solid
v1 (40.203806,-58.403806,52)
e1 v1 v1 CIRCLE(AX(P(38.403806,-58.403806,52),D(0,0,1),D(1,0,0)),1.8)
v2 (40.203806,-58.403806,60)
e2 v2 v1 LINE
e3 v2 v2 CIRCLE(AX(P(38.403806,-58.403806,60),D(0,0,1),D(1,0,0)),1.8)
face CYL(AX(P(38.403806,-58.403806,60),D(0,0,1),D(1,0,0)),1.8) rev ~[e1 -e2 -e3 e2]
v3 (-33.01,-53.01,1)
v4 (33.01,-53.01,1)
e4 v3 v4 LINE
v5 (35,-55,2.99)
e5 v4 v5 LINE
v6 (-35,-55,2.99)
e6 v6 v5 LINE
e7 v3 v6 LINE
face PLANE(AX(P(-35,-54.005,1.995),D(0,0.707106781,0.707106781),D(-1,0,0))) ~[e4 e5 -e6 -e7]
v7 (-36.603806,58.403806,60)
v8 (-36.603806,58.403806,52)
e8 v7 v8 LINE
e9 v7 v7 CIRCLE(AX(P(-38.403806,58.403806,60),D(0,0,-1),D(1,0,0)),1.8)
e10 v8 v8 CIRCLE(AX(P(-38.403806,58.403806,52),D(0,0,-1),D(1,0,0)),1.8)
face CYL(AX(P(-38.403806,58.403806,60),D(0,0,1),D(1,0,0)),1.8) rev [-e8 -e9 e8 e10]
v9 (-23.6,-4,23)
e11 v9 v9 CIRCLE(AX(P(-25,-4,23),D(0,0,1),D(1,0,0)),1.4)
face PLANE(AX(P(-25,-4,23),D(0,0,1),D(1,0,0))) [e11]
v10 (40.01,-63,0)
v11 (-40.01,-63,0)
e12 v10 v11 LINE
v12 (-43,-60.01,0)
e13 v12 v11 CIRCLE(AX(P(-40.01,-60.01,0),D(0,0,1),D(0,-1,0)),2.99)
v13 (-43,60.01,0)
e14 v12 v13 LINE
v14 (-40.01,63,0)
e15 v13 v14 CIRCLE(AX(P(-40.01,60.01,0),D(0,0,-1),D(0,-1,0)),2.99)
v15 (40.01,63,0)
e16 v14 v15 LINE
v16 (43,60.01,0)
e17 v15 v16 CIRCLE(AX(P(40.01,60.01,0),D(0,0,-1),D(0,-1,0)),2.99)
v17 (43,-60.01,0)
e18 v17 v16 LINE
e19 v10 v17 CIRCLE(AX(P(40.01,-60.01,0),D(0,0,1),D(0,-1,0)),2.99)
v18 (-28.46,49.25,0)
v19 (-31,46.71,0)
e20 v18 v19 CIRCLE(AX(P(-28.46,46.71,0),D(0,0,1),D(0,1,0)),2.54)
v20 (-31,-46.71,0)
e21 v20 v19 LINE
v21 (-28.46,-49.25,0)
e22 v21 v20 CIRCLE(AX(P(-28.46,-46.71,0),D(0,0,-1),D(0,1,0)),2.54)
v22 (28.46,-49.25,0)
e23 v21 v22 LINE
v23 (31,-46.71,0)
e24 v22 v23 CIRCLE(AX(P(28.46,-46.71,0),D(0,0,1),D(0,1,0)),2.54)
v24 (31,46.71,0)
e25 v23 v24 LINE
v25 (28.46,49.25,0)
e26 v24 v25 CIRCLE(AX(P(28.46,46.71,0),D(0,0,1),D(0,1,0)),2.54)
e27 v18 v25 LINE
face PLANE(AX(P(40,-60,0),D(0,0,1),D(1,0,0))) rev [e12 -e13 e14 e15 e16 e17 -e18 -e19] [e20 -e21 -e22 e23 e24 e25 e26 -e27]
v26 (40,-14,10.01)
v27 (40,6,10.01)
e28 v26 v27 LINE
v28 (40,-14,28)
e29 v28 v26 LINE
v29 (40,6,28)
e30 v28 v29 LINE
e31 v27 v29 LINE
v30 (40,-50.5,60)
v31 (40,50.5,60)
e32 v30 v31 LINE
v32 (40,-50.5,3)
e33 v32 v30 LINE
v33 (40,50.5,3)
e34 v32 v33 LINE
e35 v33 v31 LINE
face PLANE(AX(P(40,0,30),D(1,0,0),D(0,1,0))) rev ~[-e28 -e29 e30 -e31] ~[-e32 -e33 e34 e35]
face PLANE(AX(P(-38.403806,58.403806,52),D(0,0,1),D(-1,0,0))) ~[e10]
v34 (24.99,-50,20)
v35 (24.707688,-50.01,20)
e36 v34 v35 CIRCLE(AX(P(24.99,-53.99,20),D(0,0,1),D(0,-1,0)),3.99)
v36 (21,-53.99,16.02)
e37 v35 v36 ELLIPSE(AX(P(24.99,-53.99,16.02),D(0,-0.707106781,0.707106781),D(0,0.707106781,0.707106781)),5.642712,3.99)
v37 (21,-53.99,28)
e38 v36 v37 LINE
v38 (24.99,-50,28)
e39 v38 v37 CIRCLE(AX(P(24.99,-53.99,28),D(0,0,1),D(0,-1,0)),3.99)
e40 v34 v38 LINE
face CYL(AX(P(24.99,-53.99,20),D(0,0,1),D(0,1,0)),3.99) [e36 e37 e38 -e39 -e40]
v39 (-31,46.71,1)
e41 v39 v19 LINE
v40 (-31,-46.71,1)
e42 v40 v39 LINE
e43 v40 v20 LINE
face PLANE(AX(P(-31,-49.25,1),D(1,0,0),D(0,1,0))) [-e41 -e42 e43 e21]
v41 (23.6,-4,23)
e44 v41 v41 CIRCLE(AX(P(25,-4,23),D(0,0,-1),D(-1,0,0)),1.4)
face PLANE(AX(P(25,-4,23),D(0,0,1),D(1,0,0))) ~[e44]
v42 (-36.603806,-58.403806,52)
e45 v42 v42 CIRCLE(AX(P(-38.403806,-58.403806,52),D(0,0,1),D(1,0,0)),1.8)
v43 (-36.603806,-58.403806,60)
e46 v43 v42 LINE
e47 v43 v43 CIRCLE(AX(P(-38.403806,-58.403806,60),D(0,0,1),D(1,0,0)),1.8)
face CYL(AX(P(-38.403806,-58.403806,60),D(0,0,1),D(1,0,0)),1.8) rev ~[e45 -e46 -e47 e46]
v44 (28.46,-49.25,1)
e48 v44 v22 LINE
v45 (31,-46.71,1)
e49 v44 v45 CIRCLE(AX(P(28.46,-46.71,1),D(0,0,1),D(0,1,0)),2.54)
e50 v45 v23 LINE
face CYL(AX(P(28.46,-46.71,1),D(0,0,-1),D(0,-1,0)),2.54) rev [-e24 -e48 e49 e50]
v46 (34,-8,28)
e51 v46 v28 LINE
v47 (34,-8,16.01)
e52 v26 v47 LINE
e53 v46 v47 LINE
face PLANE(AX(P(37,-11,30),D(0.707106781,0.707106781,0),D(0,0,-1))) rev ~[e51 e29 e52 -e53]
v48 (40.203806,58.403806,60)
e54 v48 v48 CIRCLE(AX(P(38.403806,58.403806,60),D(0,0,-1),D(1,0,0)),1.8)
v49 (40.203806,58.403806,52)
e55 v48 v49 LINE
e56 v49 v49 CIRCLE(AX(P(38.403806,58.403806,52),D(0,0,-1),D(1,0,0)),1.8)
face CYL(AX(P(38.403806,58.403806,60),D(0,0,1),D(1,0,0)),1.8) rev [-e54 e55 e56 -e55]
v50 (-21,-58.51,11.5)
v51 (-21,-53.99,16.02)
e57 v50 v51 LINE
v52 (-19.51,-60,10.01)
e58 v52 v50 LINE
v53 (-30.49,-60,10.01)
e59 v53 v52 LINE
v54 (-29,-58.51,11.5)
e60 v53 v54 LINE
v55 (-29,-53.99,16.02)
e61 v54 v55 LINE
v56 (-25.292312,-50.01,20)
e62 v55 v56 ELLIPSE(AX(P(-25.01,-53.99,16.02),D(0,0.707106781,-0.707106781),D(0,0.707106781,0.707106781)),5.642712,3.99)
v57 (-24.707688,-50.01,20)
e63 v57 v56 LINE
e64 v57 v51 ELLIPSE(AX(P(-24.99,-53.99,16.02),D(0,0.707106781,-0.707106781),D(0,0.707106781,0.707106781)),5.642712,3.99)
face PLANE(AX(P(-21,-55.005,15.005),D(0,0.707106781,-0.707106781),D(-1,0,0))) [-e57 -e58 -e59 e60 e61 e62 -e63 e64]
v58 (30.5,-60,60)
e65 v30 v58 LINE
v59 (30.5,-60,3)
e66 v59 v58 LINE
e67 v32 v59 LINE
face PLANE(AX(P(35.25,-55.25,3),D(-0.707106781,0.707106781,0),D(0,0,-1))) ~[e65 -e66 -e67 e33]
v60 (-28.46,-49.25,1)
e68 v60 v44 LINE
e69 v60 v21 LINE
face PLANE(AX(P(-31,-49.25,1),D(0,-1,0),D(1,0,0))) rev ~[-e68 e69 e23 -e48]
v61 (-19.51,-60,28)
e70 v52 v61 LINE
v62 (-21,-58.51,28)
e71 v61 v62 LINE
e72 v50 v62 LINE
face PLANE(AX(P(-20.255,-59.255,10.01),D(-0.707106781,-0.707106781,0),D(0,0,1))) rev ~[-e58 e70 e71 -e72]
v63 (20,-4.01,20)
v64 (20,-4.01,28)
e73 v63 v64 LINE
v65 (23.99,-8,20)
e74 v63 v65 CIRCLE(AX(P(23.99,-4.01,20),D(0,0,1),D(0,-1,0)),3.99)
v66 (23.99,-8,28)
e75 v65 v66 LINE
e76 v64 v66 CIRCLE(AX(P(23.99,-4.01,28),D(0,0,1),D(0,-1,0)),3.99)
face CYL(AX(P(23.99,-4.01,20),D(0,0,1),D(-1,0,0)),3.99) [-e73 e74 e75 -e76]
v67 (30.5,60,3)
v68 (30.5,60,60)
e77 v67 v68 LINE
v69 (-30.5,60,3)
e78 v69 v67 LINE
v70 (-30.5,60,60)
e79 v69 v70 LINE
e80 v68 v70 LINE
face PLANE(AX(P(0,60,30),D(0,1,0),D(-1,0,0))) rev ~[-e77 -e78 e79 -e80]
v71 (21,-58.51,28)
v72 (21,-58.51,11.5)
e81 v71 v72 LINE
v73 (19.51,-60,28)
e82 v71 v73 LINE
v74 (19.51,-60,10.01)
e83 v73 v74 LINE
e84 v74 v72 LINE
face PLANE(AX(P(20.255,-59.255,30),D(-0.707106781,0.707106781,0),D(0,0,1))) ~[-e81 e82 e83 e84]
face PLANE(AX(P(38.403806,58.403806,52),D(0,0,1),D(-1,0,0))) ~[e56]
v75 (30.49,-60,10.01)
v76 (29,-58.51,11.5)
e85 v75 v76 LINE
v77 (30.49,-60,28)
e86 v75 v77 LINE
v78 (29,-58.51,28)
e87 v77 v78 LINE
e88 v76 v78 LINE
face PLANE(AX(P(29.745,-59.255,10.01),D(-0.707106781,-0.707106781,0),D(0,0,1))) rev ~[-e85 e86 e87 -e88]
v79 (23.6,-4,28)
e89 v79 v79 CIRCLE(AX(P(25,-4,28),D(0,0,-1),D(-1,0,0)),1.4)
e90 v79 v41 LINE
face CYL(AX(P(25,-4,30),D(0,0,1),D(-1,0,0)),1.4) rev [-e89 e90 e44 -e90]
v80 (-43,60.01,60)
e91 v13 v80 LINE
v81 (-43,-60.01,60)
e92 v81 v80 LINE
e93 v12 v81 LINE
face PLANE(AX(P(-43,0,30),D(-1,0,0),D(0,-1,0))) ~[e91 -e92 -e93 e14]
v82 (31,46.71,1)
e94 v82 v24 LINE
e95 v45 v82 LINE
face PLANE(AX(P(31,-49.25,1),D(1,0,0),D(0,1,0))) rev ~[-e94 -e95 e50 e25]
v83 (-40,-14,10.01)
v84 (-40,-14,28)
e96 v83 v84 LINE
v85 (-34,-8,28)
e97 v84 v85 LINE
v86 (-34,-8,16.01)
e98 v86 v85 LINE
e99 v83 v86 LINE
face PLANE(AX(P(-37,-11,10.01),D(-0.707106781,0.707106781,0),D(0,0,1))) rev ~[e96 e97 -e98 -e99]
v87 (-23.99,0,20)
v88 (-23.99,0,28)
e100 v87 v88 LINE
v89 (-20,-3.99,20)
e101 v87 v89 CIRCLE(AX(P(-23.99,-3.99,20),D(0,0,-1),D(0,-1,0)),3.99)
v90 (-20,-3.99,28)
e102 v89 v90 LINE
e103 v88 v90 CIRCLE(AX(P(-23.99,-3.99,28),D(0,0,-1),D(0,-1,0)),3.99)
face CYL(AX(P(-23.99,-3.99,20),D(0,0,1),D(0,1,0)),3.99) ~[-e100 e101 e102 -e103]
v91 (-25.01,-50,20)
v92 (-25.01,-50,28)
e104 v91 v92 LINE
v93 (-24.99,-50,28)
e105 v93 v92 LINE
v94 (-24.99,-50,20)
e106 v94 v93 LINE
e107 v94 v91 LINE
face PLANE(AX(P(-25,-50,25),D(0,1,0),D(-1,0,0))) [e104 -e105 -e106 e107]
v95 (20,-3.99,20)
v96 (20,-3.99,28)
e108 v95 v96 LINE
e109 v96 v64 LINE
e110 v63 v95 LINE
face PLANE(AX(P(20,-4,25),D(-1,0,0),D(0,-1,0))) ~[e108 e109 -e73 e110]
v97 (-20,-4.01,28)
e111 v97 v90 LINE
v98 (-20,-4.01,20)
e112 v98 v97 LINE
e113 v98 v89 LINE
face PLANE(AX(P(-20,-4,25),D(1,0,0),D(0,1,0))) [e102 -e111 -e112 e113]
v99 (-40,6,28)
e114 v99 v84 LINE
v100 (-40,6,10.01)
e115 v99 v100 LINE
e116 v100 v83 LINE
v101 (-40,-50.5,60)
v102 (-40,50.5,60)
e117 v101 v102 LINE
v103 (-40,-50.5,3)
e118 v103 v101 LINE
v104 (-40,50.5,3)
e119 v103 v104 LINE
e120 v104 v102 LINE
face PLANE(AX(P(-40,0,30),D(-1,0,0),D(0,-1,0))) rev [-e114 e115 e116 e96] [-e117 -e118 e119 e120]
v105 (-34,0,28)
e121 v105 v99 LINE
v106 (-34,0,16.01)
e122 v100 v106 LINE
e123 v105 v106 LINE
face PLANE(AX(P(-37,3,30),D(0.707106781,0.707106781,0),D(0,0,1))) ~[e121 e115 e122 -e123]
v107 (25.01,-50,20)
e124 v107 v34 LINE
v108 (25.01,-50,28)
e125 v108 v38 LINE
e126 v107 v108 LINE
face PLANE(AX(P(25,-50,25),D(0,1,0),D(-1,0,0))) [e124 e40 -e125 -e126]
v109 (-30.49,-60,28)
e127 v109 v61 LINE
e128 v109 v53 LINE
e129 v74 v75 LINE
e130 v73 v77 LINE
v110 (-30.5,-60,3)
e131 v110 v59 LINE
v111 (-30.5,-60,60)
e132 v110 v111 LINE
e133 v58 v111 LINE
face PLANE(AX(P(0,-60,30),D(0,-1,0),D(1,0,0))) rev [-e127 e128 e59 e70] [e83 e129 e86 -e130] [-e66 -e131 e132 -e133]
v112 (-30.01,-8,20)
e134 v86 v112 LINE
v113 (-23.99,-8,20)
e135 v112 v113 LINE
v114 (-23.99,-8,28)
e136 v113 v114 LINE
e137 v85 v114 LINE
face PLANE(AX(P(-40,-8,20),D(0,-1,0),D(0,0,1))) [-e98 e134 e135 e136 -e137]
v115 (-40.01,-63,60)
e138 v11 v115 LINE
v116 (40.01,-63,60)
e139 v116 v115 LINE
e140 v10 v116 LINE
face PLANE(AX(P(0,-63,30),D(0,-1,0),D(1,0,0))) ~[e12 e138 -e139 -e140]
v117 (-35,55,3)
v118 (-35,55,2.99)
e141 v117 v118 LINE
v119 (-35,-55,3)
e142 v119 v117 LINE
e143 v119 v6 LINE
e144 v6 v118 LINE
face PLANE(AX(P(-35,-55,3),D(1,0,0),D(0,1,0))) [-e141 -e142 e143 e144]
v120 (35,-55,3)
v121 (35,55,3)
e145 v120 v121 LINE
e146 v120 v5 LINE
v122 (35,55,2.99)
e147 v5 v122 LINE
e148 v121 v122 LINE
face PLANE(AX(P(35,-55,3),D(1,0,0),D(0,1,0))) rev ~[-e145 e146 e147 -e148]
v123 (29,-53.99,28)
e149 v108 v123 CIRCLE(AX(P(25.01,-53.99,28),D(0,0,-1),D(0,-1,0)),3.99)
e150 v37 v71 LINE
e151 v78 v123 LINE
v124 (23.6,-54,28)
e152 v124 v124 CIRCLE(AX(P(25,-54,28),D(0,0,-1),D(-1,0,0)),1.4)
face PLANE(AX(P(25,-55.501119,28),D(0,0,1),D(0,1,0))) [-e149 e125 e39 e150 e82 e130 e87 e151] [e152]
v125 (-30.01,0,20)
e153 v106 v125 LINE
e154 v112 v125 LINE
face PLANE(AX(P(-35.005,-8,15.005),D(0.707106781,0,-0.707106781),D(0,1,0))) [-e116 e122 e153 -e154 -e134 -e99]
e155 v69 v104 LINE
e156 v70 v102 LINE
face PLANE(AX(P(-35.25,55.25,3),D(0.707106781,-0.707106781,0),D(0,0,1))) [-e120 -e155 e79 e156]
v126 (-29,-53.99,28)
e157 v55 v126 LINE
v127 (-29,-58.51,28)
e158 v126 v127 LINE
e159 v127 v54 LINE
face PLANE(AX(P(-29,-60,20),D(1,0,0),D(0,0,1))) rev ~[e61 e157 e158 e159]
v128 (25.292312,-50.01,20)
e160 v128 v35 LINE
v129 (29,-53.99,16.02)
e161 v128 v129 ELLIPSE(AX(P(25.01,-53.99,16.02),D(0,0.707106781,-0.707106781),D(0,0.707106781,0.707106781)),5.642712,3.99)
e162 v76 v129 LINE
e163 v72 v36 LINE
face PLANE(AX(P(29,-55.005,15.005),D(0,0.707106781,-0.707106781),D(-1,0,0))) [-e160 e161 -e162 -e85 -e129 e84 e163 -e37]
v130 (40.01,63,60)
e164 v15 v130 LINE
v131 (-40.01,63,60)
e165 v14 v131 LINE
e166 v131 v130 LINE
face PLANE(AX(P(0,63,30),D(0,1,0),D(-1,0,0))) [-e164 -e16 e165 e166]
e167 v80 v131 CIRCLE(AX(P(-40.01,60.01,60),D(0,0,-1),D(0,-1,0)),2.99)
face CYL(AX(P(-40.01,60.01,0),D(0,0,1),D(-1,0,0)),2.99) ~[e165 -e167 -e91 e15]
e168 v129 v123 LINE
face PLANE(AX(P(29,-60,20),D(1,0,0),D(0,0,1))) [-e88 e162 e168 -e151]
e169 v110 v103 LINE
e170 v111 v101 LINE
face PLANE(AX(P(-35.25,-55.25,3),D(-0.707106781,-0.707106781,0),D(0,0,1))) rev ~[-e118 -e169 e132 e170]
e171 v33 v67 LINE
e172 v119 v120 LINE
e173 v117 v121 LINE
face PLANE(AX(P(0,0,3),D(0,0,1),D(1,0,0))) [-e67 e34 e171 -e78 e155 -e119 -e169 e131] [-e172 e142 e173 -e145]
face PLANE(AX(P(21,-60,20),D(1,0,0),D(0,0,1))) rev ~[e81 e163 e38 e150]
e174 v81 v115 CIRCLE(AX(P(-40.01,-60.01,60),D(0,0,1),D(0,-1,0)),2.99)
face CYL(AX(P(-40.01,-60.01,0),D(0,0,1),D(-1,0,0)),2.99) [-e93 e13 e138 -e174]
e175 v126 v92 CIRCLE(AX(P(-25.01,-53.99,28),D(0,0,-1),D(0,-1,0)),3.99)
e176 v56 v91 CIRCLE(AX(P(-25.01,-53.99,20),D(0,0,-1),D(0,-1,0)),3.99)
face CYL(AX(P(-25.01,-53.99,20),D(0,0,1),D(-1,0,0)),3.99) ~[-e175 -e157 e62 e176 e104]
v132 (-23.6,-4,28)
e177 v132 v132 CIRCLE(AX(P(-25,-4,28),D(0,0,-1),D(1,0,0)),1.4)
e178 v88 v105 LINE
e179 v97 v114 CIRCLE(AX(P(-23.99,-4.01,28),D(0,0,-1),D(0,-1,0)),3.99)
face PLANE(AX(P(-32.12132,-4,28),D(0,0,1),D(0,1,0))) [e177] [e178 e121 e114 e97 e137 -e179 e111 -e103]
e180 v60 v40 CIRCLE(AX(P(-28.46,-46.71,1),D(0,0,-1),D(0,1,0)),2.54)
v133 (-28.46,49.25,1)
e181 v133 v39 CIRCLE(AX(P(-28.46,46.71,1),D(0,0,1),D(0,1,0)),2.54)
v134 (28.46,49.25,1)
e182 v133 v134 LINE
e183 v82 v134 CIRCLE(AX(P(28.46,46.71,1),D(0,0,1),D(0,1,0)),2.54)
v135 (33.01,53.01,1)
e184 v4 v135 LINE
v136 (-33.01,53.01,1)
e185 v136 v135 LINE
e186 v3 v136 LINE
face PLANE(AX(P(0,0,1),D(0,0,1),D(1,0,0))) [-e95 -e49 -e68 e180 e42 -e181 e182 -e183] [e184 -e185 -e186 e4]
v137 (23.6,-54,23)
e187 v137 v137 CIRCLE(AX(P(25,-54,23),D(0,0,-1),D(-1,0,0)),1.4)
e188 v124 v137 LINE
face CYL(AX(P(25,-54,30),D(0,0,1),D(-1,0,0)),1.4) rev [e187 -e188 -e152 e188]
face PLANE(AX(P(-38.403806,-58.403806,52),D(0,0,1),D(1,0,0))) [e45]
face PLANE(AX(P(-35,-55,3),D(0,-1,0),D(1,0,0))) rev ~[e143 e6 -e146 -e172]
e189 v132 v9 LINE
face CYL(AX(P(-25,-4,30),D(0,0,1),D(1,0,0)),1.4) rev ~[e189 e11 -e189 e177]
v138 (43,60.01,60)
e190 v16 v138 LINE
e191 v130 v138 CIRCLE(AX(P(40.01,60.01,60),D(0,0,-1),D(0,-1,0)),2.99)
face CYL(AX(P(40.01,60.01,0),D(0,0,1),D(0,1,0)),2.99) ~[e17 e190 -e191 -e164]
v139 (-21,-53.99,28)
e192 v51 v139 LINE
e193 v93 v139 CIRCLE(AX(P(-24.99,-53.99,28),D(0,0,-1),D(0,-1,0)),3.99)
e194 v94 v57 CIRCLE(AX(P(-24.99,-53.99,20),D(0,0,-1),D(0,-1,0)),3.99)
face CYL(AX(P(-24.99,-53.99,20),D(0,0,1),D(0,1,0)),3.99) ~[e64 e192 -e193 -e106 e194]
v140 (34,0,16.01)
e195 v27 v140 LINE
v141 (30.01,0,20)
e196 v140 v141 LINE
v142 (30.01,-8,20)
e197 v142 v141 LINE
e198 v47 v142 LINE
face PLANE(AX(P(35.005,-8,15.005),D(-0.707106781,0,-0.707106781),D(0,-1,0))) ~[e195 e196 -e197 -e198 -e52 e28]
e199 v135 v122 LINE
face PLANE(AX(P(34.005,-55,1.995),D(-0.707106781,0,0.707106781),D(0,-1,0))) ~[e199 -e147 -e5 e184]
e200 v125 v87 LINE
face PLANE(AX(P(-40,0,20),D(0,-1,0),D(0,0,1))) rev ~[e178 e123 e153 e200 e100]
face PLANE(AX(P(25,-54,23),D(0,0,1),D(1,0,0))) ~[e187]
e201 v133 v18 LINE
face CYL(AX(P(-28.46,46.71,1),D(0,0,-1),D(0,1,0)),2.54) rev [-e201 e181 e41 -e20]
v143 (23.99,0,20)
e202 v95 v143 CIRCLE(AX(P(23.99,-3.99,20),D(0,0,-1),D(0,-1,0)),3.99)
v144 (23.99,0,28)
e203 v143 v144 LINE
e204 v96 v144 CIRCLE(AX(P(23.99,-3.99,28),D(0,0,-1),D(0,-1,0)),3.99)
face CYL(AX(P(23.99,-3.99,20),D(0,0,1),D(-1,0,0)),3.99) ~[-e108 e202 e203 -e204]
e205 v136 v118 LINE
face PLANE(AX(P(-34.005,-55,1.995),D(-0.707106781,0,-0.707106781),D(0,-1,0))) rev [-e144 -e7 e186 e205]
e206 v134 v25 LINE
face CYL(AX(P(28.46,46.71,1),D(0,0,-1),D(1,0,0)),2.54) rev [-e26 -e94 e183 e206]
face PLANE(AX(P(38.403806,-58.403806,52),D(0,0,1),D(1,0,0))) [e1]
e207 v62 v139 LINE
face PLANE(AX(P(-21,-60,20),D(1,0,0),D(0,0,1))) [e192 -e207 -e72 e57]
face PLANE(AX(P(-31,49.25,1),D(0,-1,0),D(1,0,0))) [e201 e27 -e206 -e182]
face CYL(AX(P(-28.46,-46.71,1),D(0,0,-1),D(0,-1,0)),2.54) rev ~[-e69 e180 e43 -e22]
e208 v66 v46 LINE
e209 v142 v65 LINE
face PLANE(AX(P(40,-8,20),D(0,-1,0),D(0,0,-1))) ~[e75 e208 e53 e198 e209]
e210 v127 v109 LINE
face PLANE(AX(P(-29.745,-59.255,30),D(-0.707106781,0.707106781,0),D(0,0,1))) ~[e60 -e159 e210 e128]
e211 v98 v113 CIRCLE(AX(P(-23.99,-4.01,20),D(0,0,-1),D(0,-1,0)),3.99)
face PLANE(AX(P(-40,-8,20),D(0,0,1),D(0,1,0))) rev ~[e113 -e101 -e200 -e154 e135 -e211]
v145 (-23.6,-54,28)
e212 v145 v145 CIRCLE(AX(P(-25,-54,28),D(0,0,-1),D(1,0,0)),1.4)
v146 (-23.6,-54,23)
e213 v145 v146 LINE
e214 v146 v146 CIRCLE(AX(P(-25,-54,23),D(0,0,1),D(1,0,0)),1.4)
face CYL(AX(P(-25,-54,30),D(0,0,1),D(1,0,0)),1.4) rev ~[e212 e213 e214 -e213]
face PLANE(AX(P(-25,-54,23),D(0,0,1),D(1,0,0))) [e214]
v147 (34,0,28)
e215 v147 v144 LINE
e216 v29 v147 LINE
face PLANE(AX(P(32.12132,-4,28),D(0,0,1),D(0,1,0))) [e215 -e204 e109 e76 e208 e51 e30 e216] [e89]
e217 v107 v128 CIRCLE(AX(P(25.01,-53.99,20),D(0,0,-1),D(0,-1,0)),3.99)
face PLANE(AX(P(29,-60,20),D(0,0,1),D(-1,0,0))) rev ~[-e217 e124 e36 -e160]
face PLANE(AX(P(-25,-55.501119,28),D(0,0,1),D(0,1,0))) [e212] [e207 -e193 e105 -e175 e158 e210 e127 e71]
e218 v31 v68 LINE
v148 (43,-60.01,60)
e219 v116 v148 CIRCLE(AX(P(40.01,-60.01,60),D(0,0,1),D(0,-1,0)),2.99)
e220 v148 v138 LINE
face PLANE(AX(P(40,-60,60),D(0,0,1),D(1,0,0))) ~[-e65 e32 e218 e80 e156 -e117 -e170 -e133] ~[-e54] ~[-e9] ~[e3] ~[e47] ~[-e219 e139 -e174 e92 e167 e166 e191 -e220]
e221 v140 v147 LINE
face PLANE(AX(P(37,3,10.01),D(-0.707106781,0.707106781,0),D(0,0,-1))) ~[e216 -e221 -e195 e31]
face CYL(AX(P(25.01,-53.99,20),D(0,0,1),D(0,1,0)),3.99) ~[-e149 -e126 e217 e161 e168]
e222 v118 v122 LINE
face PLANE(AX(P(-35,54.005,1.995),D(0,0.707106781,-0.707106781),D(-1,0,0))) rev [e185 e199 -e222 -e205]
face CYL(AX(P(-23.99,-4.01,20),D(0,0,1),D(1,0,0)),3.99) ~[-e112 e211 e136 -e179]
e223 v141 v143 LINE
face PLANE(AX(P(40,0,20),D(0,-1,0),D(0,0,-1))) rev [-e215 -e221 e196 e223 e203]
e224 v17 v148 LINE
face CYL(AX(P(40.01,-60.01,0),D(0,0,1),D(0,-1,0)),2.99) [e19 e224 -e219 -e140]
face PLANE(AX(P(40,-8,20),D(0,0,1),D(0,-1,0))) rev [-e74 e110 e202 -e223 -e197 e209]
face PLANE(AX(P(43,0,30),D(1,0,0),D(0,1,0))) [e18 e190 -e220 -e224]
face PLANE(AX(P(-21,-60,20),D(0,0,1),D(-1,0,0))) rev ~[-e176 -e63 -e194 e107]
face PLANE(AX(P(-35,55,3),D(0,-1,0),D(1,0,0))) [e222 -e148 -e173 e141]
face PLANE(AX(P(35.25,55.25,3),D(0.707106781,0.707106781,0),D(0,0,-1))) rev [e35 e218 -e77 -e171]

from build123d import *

# Parameters (mm, degrees)
SKETCH_W            = 80
SKETCH_H            = 120
PAD_DEPTH           = 3
SKETCH001_W         = 70
SKETCH001_H         = 110
POCKET_DEPTH        = 2
SKETCH002_W         = 62
SKETCH002_H         = 98.5
POCKET001_DEPTH     = 5
FILLET_R            = 2.54
CHAMFER_SIZE        = 1.99
SKETCH003_W         = 126
SKETCH003_H         = 60
PAD001_DEPTH        = 3
SKETCH004_W         = 80
SKETCH004_H         = 60
PAD002_DEPTH        = 3
CHAMFER001_SIZE     = 9.5
SKETCH005_R         = 1.8
POCKET002_DEPTH     = 8
FILLET001_R         = 2.99
SKETCH006_W         = 8
SKETCH006_H         = 10
PAD003_DEPTH        = 10
SKETCH007_W         = 8
SKETCH007_H         = 10
PAD004_DEPTH        = 20
SKETCH008_R         = 1.4
POCKET003_DEPTH     = 7
SKETCH009_R         = 1.4
POCKET004_DEPTH     = 7
CHAMFER002_SIZE     = 9.99
CHAMFER003_SIZE     = 9.99
CHAMFER004_SIZE     = 1.49
CHAMFER005_SIZE     = 6
CHAMFER005_FACE36_R = 1.4
POCKET005_DEPTH     = 2
POCKET005_FACE45_R  = 1.4
POCKET006_DEPTH     = 2
POCKET006_FACE2_R   = 1.4
POCKET007_DEPTH     = 2
POCKET007_FACE55_R  = 1.4
POCKET008_DEPTH     = 2
FILLET002_R         = 3.99


with BuildPart() as part:
    # Sketch → Pad (new body)
    with BuildSketch(Plane.XY):
        Rectangle(SKETCH_W, SKETCH_H)
    extrude(amount=PAD_DEPTH)

    # Sketch001 (on Face6 of Pad) → Pocket (cut)
    with BuildSketch(Plane.XY.offset(3)):
        Rectangle(SKETCH001_W, SKETCH001_H)
    extrude(amount=-POCKET_DEPTH, mode=Mode.SUBTRACT)

    # Sketch002 (on Face11 of Pocket) → Pocket001 (cut)
    with BuildSketch(Plane.XY.offset(1)):
        Rectangle(SKETCH002_W, SKETCH002_H)
    extrude(amount=-POCKET001_DEPTH, mode=Mode.SUBTRACT)

    # Fillet
    fillet_edges = [part.edges().sort_by_distance(p)[0] for p in [
        (-31, 49.25, 0.5),
        (31, 49.25, 0.5),
        (31, -49.25, 0.5),
        (-31, -49.25, 0.5),
    ]]
    fillet(fillet_edges, radius=FILLET_R)

    # Chamfer
    chamfer_edges = [part.edges().sort_by_distance(p)[0] for p in [
        (0, 55, 1),
        (35, 0, 1),
        (0, -55, 1),
        (-35, 0, 1),
    ]]
    chamfer(chamfer_edges, length=CHAMFER_SIZE)

    # Sketch003 (on Face22 of Chamfer) → Pad001 (join)
    with BuildSketch(Plane.YZ.offset(40)):
        with Locations((0, 30)):
            Rectangle(SKETCH003_W, SKETCH003_H)
    pad001 = extrude(amount=PAD001_DEPTH)

    # Mirrored: Pad001 across YZ
    add(pad001.mirror(Plane.YZ))

    # Sketch004 (on Face9 of Mirrored) → Pad002 (join)
    with BuildSketch(Plane(origin=(0, 60, 0), x_dir=(-1, 0, 0), z_dir=(0, 1, 0))):
        with Locations((0, 30)):
            Rectangle(SKETCH004_W, SKETCH004_H)
    pad002 = extrude(amount=PAD002_DEPTH)

    # Mirrored001: Pad002 across XZ
    add(pad002.mirror(Plane.XZ))

    # Chamfer001
    chamfer001_edges = [part.edges().sort_by_distance(p)[0] for p in [
        (-40, -60, 31.5),
        (-40, 60, 31.5),
        (40, 60, 31.5),
        (40, -60, 31.5),
    ]]
    chamfer(chamfer001_edges, length=CHAMFER001_SIZE)

    # Sketch005 (on Face4 of Chamfer001) → Pocket002 (cut)
    with BuildSketch(Plane.XY.offset(60)):
        with Locations((-38.403806, -58.403806)):
            Circle(SKETCH005_R)
        with Locations((38.403806, -58.403806)):
            Circle(SKETCH005_R)
    pocket002 = extrude(amount=-POCKET002_DEPTH, mode=Mode.SUBTRACT)

    # Mirrored002: Pocket002 across XZ
    add(pocket002.mirror(Plane.XZ), mode=Mode.SUBTRACT)

    # Fillet001
    fillet001_edges = [part.edges().sort_by_distance(p)[0] for p in [
        (-43, 63, 30),
        (-43, -63, 30),
        (43, -63, 30),
        (43, 63, 30),
    ]]
    fillet(fillet001_edges, radius=FILLET001_R)

    # Sketch006 (on Face21 of Fillet001) → Pad003 (join)
    with BuildSketch(Plane(origin=(0, -60, 0), x_dir=(-1, 0, 0), z_dir=(0, 1, 0))):
        with Locations((-25, 25)):
            Rectangle(SKETCH006_W, SKETCH006_H)
        with Locations((25, 25)):
            Rectangle(SKETCH006_W, SKETCH006_H)
    extrude(amount=PAD003_DEPTH)

    # Sketch007 (on Face10 of Pad003) → Pad004 (join)
    with BuildSketch(Plane.YZ.offset(-40)):
        with Locations((-4, 25)):
            Rectangle(SKETCH007_W, SKETCH007_H)
    pad004 = extrude(amount=PAD004_DEPTH)

    # Sketch008 (on Face41 of Pad004) → Pocket003 (cut)
    with BuildSketch(Plane.XY.offset(30)):
        with Locations((-25, -54)):
            Circle(SKETCH008_R)
    pocket003 = extrude(amount=-POCKET003_DEPTH, mode=Mode.SUBTRACT)

    # Mirrored003: Pocket003 across Sketch008 V_Axis
    add(pocket003.mirror(Plane(origin=(0, 0, 30), x_dir=(0, 0, 1), z_dir=(1, 0, 0))), mode=Mode.SUBTRACT)

    # Sketch009 (on Face26 of Mirrored003) → Pocket004 (cut)
    with BuildSketch(Plane.XY.offset(30)):
        with Locations((-25, -4)):
            Circle(SKETCH009_R)
    pocket004 = extrude(amount=-POCKET004_DEPTH, mode=Mode.SUBTRACT)

    # Mirrored004: Pad004 across YZ
    add(pad004.mirror(Plane.YZ))

    # Mirrored005: Pocket004 across Sketch009 V_Axis
    add(pocket004.mirror(Plane(origin=(0, 0, 30), x_dir=(0, 0, 1), z_dir=(1, 0, 0))), mode=Mode.SUBTRACT)

    # Chamfer002
    chamfer002_edges = [part.edges().sort_by_distance(p)[0] for p in [
        (25, -60, 20),
        (-25, -60, 20),
    ]]
    chamfer(chamfer002_edges, length=CHAMFER002_SIZE)

    # Chamfer003
    chamfer003_edges = [part.edges().sort_by_distance(p)[0] for p in [
        (40, -4, 20),
        (-40, -4, 20),
    ]]
    chamfer(chamfer003_edges, length=CHAMFER003_SIZE)

    # Chamfer004
    chamfer004_edges = [part.edges().sort_by_distance(p)[0] for p in [
        (29, -60, 15.005),
        (29, -60, 25),
        (-29, -60, 15.005),
        (-21, -60, 15.005),
        (21, -60, 15.005),
    ]]
    chamfer(chamfer004_edges, length=CHAMFER004_SIZE)

    # Chamfer005
    chamfer005_edges = [part.edges().sort_by_distance(p)[0] for p in [
        (-40, 0, 15.005),
        (-40, -8, 15.005),
        (40, -8, 15.005),
        (40, 0, 15.005),
    ]]
    chamfer(chamfer005_edges, length=CHAMFER005_SIZE)

    # Chamfer005 Face36 → Pocket005 (cut)
    with BuildSketch(Plane(origin=(31.679222, -4, 30), x_dir=(0, 1, 0), z_dir=(0, 0, 1))):
        Polygon((-4, 11.679222), (-4, -2.320778), (-10, -8.320778), (-4, -8.320778), (4, -8.320778), (10, -8.320778), (4, -2.320778), (4, 11.679222), align=None)
        with Locations((0, 6.679222)):
            Circle(CHAMFER005_FACE36_R, mode=Mode.SUBTRACT)
    extrude(amount=-POCKET005_DEPTH, mode=Mode.SUBTRACT)

    # Pocket005 Face45 → Pocket006 (cut)
    with BuildSketch(Plane(origin=(25, -55.212396, 30), x_dir=(0, 1, 0), z_dir=(0, 0, 1))):
        Polygon((-3.297604, -4), (5.212396, -4), (5.212396, 4), (-3.297604, 4), (-4.787604, 5.49), (-4.787604, 4), (-4.787604, -4), (-4.787604, -5.49), align=None)
        with Locations((1.212396, 0)):
            Circle(POCKET005_FACE45_R, mode=Mode.SUBTRACT)
    extrude(amount=-POCKET006_DEPTH, mode=Mode.SUBTRACT)

    # Pocket006 Face2 → Pocket007 (cut)
    with BuildSketch(Plane(origin=(-31.679222, -4, 30), x_dir=(0, 1, 0), z_dir=(0, 0, 1))):
        Polygon((-4, 2.320778), (-4, -11.679222), (4, -11.679222), (4, 2.320778), (10, 8.320778), (4, 8.320778), (-4, 8.320778), (-10, 8.320778), align=None)
        with Locations((0, -6.679222)):
            Circle(POCKET006_FACE2_R, mode=Mode.SUBTRACT)
    extrude(amount=-POCKET007_DEPTH, mode=Mode.SUBTRACT)

    # Pocket007 Face55 → Pocket008 (cut)
    with BuildSketch(Plane(origin=(-25, -55.212396, 30), x_dir=(0, 1, 0), z_dir=(0, 0, 1))):
        Polygon((-3.297604, -4), (5.212396, -4), (5.212396, 4), (-3.297604, 4), (-4.787604, 5.49), (-4.787604, 4), (-4.787604, -4), (-4.787604, -5.49), align=None)
        with Locations((1.212396, 0)):
            Circle(POCKET007_FACE55_R, mode=Mode.SUBTRACT)
    extrude(amount=-POCKET008_DEPTH, mode=Mode.SUBTRACT)

    # Fillet002
    fillet002_edges = [part.edges().sort_by_distance(p)[0] for p in [
        (20, 0, 24),
        (20, -8, 24),
        (-20, -8, 24),
        (-20, 0, 24),
        (-29, -50, 24),
        (-21, -50, 24),
        (21, -50, 24),
        (29, -50, 24),
    ]]
    fillet(fillet002_edges, radius=FILLET002_R)


solid = part.part
